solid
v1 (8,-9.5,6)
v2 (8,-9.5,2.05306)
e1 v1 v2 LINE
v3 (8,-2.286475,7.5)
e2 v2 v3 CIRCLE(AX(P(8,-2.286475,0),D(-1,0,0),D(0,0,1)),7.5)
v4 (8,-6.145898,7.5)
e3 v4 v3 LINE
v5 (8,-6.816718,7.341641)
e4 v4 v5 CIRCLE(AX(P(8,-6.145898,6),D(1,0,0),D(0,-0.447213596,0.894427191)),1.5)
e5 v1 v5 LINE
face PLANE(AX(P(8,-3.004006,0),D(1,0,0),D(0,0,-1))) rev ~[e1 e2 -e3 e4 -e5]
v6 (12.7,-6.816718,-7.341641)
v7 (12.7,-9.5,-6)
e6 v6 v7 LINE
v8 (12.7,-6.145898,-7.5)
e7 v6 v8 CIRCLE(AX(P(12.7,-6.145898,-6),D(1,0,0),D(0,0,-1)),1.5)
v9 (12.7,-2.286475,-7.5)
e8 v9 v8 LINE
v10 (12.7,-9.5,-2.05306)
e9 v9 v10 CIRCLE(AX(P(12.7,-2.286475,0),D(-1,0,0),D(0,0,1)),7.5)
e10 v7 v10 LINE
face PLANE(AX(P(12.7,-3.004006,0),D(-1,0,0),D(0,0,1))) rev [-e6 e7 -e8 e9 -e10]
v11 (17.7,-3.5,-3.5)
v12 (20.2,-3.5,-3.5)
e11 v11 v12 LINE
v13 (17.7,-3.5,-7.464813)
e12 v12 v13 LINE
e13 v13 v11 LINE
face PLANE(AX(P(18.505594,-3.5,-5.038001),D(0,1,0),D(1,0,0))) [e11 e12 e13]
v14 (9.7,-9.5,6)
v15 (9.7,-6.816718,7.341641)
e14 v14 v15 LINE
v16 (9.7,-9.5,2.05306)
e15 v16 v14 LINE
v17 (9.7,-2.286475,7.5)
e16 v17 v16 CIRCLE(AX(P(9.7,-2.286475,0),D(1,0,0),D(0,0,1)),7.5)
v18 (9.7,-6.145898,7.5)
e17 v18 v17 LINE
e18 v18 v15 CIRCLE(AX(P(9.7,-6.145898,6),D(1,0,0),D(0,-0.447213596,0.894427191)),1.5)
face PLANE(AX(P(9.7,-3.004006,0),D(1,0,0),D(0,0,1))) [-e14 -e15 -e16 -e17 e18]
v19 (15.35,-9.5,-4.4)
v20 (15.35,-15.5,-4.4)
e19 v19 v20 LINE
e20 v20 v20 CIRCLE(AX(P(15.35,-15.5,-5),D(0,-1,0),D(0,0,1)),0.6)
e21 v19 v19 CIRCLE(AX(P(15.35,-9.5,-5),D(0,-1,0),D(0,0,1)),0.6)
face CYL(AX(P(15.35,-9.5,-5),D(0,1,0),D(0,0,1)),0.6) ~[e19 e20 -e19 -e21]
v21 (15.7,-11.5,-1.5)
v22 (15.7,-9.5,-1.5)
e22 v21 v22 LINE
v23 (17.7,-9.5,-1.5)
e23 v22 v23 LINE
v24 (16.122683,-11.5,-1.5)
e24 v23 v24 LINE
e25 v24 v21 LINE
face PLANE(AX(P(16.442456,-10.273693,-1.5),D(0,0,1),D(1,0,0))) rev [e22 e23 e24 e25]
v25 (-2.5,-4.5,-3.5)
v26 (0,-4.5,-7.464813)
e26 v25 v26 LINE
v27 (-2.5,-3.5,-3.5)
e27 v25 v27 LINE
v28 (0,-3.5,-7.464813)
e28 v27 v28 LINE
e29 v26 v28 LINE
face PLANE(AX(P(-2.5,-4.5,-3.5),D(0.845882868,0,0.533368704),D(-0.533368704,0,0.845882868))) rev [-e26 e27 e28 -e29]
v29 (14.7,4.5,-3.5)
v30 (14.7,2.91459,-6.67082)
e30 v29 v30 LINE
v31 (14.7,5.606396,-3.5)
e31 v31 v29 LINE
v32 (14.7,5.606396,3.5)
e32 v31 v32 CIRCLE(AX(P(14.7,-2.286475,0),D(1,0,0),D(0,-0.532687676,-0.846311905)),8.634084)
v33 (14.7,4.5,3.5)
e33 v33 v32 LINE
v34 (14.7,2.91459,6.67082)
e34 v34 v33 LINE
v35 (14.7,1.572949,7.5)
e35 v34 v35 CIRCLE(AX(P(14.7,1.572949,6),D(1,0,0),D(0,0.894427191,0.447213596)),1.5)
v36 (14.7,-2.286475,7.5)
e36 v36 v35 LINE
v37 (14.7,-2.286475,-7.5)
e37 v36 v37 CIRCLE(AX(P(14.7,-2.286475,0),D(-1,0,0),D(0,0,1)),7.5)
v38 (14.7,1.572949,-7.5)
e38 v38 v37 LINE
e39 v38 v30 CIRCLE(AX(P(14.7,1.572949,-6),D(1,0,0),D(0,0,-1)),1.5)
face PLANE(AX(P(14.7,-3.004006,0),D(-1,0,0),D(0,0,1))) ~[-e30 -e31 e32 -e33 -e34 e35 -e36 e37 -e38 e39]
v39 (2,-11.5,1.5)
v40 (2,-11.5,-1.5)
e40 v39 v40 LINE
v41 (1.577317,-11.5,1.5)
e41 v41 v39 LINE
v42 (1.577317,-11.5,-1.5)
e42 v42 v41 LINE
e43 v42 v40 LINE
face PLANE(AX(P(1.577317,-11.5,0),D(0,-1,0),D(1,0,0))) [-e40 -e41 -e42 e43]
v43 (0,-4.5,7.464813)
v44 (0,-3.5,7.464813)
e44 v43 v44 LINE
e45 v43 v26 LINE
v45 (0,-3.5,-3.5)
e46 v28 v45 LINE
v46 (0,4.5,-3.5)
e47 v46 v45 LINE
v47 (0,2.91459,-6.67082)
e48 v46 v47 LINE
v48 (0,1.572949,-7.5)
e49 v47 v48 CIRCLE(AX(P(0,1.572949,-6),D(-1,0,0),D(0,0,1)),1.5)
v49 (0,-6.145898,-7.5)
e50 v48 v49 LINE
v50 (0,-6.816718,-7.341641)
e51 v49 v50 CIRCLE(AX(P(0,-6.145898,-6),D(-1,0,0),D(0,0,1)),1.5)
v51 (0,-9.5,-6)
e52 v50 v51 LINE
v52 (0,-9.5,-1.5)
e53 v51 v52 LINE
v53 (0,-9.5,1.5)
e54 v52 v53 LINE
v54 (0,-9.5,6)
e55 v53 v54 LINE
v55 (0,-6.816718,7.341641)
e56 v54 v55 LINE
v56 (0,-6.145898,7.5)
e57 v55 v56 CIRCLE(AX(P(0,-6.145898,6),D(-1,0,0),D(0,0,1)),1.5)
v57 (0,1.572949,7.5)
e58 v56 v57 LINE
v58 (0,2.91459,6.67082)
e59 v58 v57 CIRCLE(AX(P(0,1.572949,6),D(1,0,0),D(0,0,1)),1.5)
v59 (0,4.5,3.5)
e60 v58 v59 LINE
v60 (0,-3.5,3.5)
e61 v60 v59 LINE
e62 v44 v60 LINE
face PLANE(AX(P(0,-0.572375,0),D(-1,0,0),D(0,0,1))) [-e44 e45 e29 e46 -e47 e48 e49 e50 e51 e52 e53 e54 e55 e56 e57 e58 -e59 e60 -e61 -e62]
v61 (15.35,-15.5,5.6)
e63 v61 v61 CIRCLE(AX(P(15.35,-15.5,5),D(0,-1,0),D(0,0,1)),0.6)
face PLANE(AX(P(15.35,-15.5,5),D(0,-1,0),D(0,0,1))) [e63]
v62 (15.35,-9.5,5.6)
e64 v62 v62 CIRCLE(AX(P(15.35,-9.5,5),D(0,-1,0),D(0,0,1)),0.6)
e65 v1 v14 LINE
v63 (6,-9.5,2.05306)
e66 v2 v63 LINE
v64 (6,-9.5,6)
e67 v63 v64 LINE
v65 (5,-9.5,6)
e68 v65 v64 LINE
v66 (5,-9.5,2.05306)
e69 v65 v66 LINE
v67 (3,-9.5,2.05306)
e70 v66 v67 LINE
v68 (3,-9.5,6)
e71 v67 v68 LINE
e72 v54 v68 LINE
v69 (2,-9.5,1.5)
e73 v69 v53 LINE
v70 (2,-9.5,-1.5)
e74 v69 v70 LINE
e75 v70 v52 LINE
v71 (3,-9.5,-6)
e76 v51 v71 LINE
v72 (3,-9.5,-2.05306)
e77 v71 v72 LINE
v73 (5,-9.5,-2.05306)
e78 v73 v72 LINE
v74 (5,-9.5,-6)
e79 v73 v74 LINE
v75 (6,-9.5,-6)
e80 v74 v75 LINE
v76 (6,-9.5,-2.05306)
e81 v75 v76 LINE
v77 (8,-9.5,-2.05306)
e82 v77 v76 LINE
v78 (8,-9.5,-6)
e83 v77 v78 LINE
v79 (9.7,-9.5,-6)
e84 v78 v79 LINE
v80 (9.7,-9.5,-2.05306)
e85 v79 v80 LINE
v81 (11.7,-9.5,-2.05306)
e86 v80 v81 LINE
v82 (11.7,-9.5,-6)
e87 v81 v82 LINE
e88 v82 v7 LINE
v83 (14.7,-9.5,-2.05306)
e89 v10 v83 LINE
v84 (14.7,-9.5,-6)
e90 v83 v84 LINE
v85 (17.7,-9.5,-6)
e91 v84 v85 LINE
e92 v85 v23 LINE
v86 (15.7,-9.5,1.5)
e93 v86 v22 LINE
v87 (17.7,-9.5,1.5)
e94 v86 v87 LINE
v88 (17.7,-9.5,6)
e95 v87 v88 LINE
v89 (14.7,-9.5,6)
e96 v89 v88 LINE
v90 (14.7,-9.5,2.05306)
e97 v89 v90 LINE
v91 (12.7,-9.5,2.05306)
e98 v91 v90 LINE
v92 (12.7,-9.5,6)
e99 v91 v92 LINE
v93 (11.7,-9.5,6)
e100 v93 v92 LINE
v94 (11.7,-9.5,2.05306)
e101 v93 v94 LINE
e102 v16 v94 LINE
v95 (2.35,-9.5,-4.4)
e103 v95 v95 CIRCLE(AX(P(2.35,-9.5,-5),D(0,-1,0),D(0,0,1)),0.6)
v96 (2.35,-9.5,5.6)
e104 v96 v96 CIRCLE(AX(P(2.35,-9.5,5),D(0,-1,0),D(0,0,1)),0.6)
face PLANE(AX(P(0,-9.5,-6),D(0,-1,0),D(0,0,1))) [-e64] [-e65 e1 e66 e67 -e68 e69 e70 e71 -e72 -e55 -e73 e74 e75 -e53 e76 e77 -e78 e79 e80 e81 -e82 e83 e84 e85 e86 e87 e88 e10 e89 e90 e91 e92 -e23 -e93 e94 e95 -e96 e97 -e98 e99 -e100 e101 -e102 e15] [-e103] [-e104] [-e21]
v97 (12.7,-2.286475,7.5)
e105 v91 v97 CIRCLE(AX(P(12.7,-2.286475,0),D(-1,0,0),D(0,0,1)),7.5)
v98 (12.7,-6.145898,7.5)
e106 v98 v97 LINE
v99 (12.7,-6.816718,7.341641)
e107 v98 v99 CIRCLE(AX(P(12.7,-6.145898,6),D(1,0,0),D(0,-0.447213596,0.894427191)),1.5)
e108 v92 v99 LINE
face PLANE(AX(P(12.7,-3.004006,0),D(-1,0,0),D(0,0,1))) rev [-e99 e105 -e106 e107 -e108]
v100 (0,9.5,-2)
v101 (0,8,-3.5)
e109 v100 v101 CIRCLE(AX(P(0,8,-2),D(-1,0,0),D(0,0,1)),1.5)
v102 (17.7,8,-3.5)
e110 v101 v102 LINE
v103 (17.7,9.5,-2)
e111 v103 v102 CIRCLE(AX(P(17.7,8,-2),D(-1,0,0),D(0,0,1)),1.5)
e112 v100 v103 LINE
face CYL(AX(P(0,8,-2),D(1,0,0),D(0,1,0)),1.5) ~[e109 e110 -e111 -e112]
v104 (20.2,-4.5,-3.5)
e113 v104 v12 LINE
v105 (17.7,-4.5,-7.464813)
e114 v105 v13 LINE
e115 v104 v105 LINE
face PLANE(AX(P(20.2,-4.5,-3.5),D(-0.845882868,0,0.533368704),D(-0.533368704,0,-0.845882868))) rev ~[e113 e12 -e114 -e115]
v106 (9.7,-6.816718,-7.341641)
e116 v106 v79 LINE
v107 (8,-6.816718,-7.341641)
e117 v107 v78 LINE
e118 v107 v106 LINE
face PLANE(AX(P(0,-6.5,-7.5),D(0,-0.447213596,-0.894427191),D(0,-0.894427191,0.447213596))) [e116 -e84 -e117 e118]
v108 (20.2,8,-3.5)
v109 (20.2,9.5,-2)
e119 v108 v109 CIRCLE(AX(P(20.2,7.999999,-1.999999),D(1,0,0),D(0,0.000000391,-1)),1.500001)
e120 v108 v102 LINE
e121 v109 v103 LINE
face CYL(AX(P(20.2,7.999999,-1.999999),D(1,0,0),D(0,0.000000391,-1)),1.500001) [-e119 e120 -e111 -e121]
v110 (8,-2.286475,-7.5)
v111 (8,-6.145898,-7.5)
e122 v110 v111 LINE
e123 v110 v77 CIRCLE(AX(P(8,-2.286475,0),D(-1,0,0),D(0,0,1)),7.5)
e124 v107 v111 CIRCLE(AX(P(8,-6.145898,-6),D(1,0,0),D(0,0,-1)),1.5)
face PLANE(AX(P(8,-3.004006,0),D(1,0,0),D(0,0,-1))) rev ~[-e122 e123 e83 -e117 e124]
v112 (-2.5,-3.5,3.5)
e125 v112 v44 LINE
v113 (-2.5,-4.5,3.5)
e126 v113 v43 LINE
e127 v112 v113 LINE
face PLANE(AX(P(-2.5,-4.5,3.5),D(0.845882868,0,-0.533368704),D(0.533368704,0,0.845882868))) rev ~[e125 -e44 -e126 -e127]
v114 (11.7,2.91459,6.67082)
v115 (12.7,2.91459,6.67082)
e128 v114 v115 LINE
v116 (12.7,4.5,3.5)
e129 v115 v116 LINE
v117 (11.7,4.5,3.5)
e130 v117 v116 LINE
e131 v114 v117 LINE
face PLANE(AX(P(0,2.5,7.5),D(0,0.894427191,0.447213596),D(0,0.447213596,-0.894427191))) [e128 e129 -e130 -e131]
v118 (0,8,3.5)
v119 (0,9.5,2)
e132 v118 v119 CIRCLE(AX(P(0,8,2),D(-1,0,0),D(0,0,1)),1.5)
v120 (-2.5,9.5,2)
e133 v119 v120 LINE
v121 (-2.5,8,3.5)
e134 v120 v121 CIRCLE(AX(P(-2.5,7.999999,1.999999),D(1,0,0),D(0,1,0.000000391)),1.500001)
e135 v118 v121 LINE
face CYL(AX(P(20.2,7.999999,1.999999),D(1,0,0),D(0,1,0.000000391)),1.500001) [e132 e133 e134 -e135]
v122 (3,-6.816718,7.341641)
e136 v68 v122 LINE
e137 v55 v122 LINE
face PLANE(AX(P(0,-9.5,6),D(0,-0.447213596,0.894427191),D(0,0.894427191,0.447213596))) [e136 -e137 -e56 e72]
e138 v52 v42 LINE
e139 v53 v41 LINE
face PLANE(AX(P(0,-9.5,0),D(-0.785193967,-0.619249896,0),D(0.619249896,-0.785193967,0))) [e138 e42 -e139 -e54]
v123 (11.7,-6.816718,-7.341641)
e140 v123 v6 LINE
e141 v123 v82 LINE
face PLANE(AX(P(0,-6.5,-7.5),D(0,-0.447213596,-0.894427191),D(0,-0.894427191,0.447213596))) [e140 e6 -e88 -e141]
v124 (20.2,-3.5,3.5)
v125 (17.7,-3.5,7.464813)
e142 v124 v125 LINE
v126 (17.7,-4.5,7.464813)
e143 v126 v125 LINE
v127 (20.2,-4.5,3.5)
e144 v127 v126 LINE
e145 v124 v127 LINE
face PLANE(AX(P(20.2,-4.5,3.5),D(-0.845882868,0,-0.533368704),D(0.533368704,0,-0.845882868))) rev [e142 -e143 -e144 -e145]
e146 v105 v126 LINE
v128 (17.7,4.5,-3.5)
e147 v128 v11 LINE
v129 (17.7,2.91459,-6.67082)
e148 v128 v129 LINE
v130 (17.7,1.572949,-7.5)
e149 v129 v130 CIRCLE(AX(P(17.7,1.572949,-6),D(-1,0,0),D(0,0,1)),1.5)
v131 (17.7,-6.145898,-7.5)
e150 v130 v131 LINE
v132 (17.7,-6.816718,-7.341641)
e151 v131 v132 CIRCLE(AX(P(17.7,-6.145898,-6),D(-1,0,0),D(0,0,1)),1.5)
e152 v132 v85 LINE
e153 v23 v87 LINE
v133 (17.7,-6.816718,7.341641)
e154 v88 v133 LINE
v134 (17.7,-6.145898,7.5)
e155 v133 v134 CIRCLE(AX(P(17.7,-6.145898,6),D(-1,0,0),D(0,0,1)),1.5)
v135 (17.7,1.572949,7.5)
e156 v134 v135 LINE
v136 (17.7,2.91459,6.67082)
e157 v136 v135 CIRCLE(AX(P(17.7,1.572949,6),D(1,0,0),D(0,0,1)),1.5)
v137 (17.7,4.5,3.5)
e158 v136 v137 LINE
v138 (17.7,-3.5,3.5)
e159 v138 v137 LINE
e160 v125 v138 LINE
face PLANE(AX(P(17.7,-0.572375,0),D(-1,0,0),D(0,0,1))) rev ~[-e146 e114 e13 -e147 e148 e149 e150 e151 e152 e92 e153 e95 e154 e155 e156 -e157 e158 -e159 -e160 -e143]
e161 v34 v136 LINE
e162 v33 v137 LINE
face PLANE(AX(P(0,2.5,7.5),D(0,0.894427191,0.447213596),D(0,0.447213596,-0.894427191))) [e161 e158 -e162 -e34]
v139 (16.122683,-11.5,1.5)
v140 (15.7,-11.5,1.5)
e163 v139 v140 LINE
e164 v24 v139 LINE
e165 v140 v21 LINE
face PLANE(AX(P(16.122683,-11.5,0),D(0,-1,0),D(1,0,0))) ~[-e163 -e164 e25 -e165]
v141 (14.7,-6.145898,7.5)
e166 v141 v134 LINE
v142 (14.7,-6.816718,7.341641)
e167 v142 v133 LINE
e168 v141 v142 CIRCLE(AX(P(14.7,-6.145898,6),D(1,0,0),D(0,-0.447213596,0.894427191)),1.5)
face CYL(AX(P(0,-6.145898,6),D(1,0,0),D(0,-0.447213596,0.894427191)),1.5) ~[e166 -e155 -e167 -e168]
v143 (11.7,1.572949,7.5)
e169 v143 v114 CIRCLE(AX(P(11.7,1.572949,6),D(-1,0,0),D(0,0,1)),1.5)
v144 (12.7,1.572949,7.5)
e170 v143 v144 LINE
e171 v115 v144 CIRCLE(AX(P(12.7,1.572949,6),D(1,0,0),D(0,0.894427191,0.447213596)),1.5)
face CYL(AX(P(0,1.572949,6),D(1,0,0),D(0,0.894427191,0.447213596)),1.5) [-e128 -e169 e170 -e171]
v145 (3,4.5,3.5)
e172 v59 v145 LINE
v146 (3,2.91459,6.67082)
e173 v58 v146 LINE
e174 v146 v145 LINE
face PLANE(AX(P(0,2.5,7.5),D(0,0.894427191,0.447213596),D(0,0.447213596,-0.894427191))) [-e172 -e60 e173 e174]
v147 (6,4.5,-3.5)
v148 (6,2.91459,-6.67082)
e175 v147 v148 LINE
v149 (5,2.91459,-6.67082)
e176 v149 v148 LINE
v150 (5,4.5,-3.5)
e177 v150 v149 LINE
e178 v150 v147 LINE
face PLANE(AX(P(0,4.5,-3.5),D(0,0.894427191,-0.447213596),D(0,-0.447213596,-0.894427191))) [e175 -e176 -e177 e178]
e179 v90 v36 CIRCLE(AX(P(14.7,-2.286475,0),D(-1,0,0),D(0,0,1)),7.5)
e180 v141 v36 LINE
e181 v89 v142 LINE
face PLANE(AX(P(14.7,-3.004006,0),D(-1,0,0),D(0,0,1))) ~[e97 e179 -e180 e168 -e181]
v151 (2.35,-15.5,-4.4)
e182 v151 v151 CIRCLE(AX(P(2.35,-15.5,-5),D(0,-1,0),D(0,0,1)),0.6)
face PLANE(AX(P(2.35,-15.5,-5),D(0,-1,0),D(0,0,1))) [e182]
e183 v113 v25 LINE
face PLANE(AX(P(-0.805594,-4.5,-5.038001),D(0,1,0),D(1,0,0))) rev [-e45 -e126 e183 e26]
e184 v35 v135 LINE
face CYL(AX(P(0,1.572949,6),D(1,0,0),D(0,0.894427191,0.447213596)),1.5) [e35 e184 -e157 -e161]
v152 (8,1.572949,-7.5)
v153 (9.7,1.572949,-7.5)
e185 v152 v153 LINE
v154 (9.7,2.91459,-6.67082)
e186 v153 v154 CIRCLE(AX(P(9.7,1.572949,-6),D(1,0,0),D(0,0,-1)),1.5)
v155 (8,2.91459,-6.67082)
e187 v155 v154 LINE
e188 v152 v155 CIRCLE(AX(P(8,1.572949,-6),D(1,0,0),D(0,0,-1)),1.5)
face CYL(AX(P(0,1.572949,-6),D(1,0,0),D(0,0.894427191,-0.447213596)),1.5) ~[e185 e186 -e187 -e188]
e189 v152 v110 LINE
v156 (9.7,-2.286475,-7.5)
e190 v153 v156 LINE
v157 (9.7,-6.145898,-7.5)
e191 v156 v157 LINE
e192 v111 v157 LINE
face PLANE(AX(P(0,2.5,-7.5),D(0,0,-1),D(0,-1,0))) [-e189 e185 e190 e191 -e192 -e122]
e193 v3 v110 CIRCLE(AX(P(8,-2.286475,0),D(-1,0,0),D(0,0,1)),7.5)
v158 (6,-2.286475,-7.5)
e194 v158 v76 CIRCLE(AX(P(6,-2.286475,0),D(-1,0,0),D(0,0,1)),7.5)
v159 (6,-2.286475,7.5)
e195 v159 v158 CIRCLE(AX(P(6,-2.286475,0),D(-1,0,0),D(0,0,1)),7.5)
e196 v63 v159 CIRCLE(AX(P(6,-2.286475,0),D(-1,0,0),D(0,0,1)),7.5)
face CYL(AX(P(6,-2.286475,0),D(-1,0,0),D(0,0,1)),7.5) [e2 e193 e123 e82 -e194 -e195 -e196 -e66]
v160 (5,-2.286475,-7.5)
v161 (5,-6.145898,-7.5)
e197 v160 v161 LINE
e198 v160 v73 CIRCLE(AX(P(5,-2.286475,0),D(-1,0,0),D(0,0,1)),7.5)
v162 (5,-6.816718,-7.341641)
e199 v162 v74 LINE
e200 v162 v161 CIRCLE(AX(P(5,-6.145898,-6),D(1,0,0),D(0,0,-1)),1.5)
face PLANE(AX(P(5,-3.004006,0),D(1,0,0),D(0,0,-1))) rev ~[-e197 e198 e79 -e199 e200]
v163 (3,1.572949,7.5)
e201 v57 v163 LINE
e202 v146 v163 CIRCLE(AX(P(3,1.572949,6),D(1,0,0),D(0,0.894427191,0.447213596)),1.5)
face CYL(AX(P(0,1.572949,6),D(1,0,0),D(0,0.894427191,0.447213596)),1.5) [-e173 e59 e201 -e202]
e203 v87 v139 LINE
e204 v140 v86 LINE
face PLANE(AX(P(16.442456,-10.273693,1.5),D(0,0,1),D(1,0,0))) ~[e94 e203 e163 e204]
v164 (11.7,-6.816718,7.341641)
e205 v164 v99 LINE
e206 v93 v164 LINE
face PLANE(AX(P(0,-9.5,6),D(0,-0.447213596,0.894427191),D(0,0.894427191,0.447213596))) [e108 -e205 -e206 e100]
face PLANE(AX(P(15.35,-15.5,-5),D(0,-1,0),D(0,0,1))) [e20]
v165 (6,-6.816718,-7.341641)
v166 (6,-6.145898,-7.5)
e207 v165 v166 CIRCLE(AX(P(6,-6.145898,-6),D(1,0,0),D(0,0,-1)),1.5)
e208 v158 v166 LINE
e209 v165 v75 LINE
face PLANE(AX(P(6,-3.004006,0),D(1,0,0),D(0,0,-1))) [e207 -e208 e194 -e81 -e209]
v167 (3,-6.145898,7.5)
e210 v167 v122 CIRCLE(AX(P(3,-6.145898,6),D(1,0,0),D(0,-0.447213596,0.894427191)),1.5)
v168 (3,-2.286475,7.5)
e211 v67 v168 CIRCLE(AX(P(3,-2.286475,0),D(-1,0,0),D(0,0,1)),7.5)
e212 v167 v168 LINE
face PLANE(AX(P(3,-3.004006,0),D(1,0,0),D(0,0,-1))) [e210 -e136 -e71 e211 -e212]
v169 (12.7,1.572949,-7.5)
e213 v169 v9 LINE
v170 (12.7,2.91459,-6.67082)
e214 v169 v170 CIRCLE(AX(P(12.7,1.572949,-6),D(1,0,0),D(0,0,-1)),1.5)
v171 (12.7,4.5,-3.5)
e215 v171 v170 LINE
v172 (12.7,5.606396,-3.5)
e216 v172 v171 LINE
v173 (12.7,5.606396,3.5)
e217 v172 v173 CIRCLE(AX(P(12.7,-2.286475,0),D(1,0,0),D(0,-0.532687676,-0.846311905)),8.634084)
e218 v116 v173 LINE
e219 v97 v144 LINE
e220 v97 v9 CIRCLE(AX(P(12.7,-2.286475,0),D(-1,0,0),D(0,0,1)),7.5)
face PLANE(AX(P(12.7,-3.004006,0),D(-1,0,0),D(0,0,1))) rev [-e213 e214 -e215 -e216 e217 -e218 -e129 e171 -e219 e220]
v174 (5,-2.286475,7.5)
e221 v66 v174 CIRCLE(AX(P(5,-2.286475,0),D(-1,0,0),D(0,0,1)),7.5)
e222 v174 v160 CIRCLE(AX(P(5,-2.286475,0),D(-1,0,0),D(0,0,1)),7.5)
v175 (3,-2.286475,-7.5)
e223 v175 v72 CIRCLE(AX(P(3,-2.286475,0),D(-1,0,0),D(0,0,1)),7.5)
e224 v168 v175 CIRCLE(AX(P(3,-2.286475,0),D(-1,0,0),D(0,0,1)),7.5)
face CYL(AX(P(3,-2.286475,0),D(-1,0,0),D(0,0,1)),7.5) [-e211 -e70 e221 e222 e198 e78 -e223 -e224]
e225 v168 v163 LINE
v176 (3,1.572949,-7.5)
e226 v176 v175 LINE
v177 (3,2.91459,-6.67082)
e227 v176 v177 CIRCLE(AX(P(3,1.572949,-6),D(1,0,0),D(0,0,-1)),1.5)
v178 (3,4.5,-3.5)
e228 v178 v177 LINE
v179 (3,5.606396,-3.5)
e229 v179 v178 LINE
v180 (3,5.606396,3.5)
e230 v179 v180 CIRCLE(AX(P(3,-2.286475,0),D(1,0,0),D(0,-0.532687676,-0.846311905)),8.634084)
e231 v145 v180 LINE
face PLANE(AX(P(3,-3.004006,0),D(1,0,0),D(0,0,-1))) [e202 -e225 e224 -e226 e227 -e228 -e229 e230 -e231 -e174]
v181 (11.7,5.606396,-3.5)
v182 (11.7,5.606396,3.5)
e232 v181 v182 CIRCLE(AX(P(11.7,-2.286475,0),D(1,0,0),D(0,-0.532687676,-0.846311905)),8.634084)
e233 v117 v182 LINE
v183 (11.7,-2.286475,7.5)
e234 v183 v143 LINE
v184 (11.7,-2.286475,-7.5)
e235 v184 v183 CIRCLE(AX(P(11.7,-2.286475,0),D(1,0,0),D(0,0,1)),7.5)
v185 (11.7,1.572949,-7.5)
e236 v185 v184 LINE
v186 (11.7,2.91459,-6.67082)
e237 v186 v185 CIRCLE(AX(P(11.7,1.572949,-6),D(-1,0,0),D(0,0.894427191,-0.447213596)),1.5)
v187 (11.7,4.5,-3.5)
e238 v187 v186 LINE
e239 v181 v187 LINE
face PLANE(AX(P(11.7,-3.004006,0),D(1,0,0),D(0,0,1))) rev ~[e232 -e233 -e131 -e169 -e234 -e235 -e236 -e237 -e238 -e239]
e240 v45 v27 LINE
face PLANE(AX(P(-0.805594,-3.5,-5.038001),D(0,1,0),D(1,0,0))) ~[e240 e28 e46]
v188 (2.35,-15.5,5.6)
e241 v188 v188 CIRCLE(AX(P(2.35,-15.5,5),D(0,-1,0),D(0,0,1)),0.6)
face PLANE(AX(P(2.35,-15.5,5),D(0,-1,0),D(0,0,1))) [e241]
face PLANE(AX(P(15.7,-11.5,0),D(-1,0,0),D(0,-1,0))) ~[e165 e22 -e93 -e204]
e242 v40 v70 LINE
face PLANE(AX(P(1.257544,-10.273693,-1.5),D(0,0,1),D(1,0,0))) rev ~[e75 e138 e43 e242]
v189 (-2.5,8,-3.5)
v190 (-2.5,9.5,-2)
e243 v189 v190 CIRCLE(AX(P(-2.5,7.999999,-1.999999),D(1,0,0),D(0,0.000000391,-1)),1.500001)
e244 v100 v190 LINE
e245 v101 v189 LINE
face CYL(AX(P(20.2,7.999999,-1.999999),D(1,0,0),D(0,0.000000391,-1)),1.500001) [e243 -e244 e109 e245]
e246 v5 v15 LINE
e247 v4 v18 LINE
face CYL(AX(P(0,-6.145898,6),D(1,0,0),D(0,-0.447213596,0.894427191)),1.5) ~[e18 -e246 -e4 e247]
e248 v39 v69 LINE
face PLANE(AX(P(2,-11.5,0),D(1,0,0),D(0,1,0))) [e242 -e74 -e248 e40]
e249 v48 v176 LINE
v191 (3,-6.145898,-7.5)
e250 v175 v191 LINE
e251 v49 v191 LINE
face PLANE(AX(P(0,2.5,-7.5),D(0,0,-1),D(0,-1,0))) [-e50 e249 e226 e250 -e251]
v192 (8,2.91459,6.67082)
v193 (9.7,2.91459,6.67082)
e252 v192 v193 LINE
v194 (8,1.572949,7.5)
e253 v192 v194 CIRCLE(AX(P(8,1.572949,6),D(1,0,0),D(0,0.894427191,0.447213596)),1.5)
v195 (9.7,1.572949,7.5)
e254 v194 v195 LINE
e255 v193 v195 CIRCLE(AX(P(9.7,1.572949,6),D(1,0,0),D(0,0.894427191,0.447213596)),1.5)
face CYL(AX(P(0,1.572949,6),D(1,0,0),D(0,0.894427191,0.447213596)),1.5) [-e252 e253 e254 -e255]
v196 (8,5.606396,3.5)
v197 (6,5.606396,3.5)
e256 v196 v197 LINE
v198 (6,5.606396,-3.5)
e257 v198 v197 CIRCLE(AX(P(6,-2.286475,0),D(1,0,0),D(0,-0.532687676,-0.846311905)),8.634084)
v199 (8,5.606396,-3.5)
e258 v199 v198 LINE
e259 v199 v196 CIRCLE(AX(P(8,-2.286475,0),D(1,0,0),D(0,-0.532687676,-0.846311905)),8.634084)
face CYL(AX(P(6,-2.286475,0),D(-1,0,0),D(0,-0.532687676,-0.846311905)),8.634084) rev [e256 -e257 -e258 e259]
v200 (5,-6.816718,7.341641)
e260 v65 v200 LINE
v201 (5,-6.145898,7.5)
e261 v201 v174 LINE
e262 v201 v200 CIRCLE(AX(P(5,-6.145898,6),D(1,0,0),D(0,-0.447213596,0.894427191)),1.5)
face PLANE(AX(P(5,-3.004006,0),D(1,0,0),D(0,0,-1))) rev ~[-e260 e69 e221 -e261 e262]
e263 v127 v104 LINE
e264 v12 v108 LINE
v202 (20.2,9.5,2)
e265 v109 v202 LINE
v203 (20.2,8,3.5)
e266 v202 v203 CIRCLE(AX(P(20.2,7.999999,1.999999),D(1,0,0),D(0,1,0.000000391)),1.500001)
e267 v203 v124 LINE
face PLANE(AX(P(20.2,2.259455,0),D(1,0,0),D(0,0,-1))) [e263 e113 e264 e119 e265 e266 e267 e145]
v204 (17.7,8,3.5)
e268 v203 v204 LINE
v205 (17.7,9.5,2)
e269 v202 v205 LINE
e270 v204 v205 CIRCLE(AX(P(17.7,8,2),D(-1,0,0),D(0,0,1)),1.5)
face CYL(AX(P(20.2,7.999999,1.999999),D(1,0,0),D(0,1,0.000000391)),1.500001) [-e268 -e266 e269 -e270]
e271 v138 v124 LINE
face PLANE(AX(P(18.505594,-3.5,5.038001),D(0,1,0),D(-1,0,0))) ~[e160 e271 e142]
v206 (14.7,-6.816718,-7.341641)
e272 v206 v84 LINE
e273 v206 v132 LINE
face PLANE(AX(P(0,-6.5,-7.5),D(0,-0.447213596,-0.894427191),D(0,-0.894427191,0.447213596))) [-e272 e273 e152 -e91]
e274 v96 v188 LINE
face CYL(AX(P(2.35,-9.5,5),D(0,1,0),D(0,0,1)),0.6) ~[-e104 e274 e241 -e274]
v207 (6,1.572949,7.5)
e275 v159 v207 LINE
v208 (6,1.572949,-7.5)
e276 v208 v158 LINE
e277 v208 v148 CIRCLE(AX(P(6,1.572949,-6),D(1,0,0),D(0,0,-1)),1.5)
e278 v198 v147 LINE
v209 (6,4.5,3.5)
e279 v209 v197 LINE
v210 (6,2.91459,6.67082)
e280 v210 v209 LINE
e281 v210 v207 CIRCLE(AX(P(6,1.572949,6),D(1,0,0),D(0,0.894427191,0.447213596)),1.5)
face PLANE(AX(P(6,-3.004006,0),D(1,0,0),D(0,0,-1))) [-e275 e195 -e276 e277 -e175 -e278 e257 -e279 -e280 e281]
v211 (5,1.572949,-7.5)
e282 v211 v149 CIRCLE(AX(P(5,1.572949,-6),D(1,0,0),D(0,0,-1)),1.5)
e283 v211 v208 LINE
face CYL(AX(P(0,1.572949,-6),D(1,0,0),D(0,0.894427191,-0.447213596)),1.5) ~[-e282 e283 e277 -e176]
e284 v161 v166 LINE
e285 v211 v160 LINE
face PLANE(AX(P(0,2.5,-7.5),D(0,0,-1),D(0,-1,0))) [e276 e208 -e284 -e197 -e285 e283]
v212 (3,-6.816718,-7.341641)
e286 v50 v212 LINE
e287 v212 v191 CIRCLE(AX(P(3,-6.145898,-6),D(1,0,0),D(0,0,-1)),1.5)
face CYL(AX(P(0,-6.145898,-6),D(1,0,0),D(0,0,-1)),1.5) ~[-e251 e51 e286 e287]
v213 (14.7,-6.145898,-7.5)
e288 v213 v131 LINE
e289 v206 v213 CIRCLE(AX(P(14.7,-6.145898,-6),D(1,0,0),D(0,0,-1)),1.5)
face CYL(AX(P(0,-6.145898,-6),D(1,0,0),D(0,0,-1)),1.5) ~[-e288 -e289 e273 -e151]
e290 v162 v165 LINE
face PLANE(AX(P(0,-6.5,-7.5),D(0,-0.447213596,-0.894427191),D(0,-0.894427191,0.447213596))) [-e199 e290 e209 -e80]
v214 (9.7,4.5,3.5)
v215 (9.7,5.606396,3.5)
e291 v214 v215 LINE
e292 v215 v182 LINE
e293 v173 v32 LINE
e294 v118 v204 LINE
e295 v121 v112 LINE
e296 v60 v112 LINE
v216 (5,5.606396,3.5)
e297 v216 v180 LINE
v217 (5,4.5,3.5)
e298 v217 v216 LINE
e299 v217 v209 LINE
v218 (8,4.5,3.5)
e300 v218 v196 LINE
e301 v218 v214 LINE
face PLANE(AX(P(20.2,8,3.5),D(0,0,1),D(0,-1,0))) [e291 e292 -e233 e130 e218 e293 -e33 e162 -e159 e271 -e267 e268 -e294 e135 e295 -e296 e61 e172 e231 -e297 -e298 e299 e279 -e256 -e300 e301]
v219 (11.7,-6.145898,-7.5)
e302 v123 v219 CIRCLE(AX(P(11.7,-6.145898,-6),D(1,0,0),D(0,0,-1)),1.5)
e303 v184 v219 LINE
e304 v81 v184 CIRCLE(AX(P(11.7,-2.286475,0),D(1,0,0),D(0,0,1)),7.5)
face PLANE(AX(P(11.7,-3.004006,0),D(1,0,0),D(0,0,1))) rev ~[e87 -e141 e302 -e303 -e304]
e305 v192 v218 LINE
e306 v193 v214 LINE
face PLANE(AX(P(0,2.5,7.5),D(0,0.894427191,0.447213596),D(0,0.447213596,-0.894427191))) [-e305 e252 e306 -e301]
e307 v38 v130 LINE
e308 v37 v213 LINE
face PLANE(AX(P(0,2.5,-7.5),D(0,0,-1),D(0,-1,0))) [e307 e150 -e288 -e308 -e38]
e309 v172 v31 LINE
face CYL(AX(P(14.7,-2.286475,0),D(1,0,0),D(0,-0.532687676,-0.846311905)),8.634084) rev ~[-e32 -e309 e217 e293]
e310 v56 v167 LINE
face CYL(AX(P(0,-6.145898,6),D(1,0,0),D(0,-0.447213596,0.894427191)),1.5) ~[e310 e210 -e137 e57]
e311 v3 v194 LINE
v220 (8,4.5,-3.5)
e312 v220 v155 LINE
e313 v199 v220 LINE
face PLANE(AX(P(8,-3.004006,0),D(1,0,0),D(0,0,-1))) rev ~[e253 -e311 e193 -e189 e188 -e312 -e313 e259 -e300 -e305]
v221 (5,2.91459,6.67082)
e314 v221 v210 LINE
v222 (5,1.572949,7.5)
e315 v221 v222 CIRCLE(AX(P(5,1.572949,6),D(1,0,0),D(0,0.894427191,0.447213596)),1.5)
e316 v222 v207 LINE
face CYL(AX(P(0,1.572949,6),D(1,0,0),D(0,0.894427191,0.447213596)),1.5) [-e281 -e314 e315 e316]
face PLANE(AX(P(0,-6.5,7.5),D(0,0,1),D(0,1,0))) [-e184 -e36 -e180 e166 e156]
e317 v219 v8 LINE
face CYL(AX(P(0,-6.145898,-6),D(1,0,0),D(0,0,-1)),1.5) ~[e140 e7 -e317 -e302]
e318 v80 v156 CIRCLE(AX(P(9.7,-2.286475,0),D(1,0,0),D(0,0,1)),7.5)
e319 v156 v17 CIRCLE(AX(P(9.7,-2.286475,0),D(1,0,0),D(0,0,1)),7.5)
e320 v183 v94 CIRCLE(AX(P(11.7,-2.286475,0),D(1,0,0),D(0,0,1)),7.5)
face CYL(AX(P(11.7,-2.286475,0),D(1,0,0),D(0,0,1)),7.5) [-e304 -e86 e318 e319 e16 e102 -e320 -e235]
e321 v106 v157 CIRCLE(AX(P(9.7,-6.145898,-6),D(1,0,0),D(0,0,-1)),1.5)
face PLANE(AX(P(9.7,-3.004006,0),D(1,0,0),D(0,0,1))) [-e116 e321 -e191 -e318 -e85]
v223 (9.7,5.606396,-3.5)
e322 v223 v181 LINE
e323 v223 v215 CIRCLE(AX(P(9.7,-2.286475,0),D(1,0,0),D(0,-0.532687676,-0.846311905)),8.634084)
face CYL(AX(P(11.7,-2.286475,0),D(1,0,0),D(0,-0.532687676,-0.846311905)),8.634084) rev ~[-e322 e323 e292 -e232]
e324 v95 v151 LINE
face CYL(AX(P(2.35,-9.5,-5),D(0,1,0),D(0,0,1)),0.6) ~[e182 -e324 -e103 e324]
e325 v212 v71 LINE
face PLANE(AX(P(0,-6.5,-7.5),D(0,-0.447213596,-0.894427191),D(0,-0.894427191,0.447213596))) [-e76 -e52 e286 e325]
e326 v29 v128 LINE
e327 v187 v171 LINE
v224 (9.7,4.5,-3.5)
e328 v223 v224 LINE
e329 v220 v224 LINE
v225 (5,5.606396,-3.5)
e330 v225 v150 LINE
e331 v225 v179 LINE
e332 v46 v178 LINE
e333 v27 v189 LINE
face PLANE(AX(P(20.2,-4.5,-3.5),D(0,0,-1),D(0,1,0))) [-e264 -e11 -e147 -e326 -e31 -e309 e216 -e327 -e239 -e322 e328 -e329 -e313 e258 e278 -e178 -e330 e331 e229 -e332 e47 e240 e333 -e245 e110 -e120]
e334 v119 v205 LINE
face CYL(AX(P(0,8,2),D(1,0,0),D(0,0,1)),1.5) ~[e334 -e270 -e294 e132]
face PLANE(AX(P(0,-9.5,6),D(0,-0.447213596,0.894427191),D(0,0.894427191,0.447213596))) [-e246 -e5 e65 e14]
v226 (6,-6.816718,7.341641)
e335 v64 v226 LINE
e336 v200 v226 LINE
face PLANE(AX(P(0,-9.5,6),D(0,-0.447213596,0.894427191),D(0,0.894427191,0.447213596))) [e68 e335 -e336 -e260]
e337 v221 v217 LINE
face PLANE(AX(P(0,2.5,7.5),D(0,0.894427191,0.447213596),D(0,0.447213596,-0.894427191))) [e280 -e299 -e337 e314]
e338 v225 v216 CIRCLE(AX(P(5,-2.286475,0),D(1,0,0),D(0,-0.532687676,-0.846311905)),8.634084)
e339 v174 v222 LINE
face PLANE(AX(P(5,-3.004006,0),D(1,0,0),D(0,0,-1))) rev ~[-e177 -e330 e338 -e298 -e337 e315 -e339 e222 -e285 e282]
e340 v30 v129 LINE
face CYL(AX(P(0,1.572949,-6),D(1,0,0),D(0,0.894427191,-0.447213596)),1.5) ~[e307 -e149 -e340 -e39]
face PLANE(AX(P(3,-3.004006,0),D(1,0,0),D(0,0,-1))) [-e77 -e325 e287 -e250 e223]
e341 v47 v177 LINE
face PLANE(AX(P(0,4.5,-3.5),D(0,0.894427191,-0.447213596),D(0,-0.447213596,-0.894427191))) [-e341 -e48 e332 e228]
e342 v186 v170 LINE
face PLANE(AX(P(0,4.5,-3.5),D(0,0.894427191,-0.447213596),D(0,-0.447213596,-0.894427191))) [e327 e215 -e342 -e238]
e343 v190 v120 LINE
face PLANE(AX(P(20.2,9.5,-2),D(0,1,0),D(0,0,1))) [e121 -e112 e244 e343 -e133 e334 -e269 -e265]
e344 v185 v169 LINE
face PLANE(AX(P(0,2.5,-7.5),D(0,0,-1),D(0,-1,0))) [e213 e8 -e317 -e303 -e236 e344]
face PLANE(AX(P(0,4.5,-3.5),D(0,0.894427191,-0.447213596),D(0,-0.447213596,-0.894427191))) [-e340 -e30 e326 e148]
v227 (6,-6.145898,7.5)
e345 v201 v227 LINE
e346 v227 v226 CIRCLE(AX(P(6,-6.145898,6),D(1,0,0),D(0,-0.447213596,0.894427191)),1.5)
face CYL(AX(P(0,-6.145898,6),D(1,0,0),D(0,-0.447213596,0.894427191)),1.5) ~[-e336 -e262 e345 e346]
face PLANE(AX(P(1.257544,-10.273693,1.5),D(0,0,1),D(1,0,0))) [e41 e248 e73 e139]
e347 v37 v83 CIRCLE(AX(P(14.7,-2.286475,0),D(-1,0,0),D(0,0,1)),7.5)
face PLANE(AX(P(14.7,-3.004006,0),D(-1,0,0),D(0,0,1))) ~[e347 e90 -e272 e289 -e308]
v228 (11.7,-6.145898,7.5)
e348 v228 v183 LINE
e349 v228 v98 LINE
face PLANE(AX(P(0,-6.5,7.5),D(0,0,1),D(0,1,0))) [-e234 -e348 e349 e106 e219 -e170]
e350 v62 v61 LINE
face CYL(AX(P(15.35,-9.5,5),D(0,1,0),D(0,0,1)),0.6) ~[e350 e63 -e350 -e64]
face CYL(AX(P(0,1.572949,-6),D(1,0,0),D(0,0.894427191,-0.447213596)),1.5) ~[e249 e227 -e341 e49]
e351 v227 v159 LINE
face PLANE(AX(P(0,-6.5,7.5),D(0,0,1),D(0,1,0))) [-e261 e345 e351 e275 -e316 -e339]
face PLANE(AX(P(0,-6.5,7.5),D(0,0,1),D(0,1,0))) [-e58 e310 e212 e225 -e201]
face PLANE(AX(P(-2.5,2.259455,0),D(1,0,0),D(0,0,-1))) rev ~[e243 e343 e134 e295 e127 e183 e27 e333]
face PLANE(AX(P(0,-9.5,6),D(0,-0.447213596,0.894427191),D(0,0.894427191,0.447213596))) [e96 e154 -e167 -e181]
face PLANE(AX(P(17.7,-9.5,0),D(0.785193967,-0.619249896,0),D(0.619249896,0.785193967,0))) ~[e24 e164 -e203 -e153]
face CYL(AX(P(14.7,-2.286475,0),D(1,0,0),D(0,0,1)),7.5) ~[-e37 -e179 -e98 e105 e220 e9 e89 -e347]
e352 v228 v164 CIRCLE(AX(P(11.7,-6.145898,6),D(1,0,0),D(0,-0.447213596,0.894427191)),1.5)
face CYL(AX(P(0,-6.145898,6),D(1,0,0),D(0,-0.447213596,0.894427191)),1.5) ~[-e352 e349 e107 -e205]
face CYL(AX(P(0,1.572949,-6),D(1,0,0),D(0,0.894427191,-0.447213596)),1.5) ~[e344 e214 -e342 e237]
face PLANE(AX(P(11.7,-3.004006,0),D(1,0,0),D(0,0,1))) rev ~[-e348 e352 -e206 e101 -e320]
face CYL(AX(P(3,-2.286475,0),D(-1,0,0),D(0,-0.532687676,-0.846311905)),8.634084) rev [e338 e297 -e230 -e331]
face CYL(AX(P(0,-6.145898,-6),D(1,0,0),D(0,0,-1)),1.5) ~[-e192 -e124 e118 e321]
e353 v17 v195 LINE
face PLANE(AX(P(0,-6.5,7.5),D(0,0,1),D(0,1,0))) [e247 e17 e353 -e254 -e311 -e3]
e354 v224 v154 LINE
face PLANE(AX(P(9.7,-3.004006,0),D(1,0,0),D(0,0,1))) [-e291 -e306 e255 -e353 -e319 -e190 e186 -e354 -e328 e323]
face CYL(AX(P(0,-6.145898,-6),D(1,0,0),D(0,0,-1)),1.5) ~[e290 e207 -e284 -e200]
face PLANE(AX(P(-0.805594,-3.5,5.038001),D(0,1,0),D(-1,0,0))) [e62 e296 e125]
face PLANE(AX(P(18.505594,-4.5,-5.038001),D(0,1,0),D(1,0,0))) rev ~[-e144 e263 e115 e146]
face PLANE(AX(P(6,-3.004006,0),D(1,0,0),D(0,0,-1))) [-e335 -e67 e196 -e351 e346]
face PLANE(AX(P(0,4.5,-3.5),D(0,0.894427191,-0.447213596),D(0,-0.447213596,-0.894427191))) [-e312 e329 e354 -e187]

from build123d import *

# Parameters (mm, degrees)
EXTRUDE_1_DEPTH          = 17.7
FILLET_1_R               = 1.5
EXTRUDE_2_DEPTH          = 2.5
EXTRUDE_2_DEPTH_BACK     = 20.2
EXTRUDE_3_DEPTH          = 1
MIRROR_6_COPY_1_DEPTH    = 1
SKETCH_5_R               = 0.6
EXTRUDE_4_DEPTH          = 6
EXTRUDE_6_DEPTH          = 1.5
SKETCH_9_R               = 7.5
CUT_EXTRUDE_1_DEPTH      = 2
PATTERN_LINEAR_1_COUNT   = 2
PATTERN_LINEAR_1_PITCH   = 3
MIRROR_8_COPY_1_SKETCH_R = 7.5
MIRROR_8_COPY_1_DEPTH    = 2


with BuildPart() as part:
    # Эскиз1 → Бобышка-Вытянуть1 (new body)
    with BuildSketch(Plane(origin=(0, 0, 0), x_dir=(0, 0, -1), z_dir=(1, 0, 0))):
        Polygon((-7.5, 2.5), (-3.5, 4.5), (-3.5, 9.5), (3.5, 9.5), (3.5, 4.5), (7.5, 2.5), (7.5, -6.5), (6, -9.5), (-6, -9.5), (-7.5, -6.5), align=None)
    extrude(amount=EXTRUDE_1_DEPTH)

    # Скругление1
    fillet_1_edges = [part.edges().sort_by_distance(p)[0] for p in [
        (8.85, 2.5, -7.5),
        (8.85, -6.5, -7.5),
        (8.85, -6.5, 7.5),
        (8.85, 2.5, 7.5),
        (8.85, 9.5, 3.5),
        (8.85, 9.5, -3.5),
    ]]
    fillet(fillet_1_edges, radius=FILLET_1_R)

    # Эскиз2 → Бобышка-Вытянуть2 (add, two sides: drawn at the far end of the back side and taken through both)
    with BuildSketch(Plane.ZY.offset(-EXTRUDE_2_DEPTH_BACK)):
        with BuildLine():
            Line((-2, 9.5), (2, 9.5))
            ThreePointArc((2, 9.5), (3.06066, 9.06066), (3.5, 8))
            Line((3.5, 8), (3.5, -4.5))
            Line((3.5, -4.5), (-3.5, -4.5))
            Line((-3.5, -4.5), (-3.5, 8))
            ThreePointArc((-3.5, 8), (-3.06066, 9.06066), (-2, 9.5))
        make_face()
    extrude(amount=EXTRUDE_2_DEPTH + EXTRUDE_2_DEPTH_BACK)

    # Эскиз4 → Бобышка-Вытянуть3 (add)
    with BuildSketch(Plane.XZ.offset(4.5)):
        Polygon((0, 3.5), (-2.5, 3.5), (0, 7.464813), align=None)
    extrude_3 = extrude(amount=-EXTRUDE_3_DEPTH)

    # Зеркальное отражение4: Бобышка-Вытянуть3 across plane
    add(extrude_3.mirror(Plane.XY))

    # Зеркальное отражение6: Бобышка-Вытянуть3 across plane
    add(extrude_3.mirror(Plane.ZY.offset(-8.85)))

    # Зеркальное отражение6 copy 1 sketch → Зеркальное отражение6 copy 1 (add)
    with BuildSketch(Plane(origin=(17.7, -4.5, 0), x_dir=(-1, 0, 0), z_dir=(0, -1, 0))):
        Polygon((0, 3.5), (-2.5, 3.5), (0, 7.464813), align=None)
    extrude(amount=-MIRROR_6_COPY_1_DEPTH)

    # Эскиз5 → Бобышка-Вытянуть4 (add)
    with BuildSketch(Plane.XZ.offset(9.5)):
        with Locations(Location((2.35, 5, 0), (0, 0, 90))):
            Circle(SKETCH_5_R)
        with Locations(Location((15.35, 5, 0), (0, 0, 90))):
            Circle(SKETCH_5_R)
        with Locations(Location((15.35, -5, 0), (0, 0, 90))):
            Circle(SKETCH_5_R)
        with Locations(Location((2.35, -5, 0), (0, 0, 90))):
            Circle(SKETCH_5_R)
    extrude(amount=EXTRUDE_4_DEPTH)

    # Эскиз8 → Бобышка-Вытянуть6 (add, symmetric)
    with BuildSketch(Plane.XY):
        Polygon((2, -9.5), (0, -9.5), (1.577317, -11.5), (2, -11.5), align=None)
    extrude_6 = extrude(amount=EXTRUDE_6_DEPTH, both=True)

    # Зеркальное отражение7: Бобышка-Вытянуть6 across plane
    add(extrude_6.mirror(Plane.ZY.offset(-8.85)))

    # Эскиз9 → Вырез-Вытянуть1 (cut)
    with BuildSketch(Plane.ZY.offset(-3)):
        with BuildLine():
            Line((-4.744729, -9.5), (-6, -9.5))
            Line((-6, -9.5), (-7.307128, -6.885745))
            ThreePointArc((-7.307128, -6.885745), (0, 6.347609), (7.307128, -6.885745))
            Line((7.307128, -6.885745), (6, -9.5))
            Line((6, -9.5), (4.744729, -9.5))
            ThreePointArc((4.744729, -9.5), (0, -10.920558), (-4.744729, -9.5))
        make_face()
        with Locations((0, -2.286475)):
            Circle(SKETCH_9_R, mode=Mode.SUBTRACT)
    cut_extrude_1 = extrude(amount=-CUT_EXTRUDE_1_DEPTH, mode=Mode.SUBTRACT)

    # Линейный массив1: Вырез-Вытянуть1 ×2
    with Locations(*[(i * PATTERN_LINEAR_1_PITCH, 0, 0) for i in range(1, PATTERN_LINEAR_1_COUNT)]):
        add(cut_extrude_1, mode=Mode.SUBTRACT)

    # Зеркальное отражение8: Вырез-Вытянуть1 across plane
    add(cut_extrude_1.mirror(Plane.ZY.offset(-8.85)), mode=Mode.SUBTRACT)

    # Зеркальное отражение8 copy 1 sketch → Зеркальное отражение8 copy 1 (cut)
    with BuildSketch(Plane(origin=(11.7, 0, 0), x_dir=(0, 0, 1), z_dir=(1, 0, 0))):
        with BuildLine():
            Line((-4.744729, 9.5), (-6, 9.5))
            Line((-6, 9.5), (-7.307128, 6.885745))
            ThreePointArc((-7.307128, 6.885745), (0, -6.347609), (7.307128, 6.885745))
            Line((7.307128, 6.885745), (6, 9.5))
            Line((6, 9.5), (4.744729, 9.5))
            ThreePointArc((4.744729, 9.5), (0, 10.920558), (-4.744729, 9.5))
        make_face()
        with Locations((0, 2.286475)):
            Circle(MIRROR_8_COPY_1_SKETCH_R, mode=Mode.SUBTRACT)
    extrude(amount=-MIRROR_8_COPY_1_DEPTH, mode=Mode.SUBTRACT)


solid = part.part
